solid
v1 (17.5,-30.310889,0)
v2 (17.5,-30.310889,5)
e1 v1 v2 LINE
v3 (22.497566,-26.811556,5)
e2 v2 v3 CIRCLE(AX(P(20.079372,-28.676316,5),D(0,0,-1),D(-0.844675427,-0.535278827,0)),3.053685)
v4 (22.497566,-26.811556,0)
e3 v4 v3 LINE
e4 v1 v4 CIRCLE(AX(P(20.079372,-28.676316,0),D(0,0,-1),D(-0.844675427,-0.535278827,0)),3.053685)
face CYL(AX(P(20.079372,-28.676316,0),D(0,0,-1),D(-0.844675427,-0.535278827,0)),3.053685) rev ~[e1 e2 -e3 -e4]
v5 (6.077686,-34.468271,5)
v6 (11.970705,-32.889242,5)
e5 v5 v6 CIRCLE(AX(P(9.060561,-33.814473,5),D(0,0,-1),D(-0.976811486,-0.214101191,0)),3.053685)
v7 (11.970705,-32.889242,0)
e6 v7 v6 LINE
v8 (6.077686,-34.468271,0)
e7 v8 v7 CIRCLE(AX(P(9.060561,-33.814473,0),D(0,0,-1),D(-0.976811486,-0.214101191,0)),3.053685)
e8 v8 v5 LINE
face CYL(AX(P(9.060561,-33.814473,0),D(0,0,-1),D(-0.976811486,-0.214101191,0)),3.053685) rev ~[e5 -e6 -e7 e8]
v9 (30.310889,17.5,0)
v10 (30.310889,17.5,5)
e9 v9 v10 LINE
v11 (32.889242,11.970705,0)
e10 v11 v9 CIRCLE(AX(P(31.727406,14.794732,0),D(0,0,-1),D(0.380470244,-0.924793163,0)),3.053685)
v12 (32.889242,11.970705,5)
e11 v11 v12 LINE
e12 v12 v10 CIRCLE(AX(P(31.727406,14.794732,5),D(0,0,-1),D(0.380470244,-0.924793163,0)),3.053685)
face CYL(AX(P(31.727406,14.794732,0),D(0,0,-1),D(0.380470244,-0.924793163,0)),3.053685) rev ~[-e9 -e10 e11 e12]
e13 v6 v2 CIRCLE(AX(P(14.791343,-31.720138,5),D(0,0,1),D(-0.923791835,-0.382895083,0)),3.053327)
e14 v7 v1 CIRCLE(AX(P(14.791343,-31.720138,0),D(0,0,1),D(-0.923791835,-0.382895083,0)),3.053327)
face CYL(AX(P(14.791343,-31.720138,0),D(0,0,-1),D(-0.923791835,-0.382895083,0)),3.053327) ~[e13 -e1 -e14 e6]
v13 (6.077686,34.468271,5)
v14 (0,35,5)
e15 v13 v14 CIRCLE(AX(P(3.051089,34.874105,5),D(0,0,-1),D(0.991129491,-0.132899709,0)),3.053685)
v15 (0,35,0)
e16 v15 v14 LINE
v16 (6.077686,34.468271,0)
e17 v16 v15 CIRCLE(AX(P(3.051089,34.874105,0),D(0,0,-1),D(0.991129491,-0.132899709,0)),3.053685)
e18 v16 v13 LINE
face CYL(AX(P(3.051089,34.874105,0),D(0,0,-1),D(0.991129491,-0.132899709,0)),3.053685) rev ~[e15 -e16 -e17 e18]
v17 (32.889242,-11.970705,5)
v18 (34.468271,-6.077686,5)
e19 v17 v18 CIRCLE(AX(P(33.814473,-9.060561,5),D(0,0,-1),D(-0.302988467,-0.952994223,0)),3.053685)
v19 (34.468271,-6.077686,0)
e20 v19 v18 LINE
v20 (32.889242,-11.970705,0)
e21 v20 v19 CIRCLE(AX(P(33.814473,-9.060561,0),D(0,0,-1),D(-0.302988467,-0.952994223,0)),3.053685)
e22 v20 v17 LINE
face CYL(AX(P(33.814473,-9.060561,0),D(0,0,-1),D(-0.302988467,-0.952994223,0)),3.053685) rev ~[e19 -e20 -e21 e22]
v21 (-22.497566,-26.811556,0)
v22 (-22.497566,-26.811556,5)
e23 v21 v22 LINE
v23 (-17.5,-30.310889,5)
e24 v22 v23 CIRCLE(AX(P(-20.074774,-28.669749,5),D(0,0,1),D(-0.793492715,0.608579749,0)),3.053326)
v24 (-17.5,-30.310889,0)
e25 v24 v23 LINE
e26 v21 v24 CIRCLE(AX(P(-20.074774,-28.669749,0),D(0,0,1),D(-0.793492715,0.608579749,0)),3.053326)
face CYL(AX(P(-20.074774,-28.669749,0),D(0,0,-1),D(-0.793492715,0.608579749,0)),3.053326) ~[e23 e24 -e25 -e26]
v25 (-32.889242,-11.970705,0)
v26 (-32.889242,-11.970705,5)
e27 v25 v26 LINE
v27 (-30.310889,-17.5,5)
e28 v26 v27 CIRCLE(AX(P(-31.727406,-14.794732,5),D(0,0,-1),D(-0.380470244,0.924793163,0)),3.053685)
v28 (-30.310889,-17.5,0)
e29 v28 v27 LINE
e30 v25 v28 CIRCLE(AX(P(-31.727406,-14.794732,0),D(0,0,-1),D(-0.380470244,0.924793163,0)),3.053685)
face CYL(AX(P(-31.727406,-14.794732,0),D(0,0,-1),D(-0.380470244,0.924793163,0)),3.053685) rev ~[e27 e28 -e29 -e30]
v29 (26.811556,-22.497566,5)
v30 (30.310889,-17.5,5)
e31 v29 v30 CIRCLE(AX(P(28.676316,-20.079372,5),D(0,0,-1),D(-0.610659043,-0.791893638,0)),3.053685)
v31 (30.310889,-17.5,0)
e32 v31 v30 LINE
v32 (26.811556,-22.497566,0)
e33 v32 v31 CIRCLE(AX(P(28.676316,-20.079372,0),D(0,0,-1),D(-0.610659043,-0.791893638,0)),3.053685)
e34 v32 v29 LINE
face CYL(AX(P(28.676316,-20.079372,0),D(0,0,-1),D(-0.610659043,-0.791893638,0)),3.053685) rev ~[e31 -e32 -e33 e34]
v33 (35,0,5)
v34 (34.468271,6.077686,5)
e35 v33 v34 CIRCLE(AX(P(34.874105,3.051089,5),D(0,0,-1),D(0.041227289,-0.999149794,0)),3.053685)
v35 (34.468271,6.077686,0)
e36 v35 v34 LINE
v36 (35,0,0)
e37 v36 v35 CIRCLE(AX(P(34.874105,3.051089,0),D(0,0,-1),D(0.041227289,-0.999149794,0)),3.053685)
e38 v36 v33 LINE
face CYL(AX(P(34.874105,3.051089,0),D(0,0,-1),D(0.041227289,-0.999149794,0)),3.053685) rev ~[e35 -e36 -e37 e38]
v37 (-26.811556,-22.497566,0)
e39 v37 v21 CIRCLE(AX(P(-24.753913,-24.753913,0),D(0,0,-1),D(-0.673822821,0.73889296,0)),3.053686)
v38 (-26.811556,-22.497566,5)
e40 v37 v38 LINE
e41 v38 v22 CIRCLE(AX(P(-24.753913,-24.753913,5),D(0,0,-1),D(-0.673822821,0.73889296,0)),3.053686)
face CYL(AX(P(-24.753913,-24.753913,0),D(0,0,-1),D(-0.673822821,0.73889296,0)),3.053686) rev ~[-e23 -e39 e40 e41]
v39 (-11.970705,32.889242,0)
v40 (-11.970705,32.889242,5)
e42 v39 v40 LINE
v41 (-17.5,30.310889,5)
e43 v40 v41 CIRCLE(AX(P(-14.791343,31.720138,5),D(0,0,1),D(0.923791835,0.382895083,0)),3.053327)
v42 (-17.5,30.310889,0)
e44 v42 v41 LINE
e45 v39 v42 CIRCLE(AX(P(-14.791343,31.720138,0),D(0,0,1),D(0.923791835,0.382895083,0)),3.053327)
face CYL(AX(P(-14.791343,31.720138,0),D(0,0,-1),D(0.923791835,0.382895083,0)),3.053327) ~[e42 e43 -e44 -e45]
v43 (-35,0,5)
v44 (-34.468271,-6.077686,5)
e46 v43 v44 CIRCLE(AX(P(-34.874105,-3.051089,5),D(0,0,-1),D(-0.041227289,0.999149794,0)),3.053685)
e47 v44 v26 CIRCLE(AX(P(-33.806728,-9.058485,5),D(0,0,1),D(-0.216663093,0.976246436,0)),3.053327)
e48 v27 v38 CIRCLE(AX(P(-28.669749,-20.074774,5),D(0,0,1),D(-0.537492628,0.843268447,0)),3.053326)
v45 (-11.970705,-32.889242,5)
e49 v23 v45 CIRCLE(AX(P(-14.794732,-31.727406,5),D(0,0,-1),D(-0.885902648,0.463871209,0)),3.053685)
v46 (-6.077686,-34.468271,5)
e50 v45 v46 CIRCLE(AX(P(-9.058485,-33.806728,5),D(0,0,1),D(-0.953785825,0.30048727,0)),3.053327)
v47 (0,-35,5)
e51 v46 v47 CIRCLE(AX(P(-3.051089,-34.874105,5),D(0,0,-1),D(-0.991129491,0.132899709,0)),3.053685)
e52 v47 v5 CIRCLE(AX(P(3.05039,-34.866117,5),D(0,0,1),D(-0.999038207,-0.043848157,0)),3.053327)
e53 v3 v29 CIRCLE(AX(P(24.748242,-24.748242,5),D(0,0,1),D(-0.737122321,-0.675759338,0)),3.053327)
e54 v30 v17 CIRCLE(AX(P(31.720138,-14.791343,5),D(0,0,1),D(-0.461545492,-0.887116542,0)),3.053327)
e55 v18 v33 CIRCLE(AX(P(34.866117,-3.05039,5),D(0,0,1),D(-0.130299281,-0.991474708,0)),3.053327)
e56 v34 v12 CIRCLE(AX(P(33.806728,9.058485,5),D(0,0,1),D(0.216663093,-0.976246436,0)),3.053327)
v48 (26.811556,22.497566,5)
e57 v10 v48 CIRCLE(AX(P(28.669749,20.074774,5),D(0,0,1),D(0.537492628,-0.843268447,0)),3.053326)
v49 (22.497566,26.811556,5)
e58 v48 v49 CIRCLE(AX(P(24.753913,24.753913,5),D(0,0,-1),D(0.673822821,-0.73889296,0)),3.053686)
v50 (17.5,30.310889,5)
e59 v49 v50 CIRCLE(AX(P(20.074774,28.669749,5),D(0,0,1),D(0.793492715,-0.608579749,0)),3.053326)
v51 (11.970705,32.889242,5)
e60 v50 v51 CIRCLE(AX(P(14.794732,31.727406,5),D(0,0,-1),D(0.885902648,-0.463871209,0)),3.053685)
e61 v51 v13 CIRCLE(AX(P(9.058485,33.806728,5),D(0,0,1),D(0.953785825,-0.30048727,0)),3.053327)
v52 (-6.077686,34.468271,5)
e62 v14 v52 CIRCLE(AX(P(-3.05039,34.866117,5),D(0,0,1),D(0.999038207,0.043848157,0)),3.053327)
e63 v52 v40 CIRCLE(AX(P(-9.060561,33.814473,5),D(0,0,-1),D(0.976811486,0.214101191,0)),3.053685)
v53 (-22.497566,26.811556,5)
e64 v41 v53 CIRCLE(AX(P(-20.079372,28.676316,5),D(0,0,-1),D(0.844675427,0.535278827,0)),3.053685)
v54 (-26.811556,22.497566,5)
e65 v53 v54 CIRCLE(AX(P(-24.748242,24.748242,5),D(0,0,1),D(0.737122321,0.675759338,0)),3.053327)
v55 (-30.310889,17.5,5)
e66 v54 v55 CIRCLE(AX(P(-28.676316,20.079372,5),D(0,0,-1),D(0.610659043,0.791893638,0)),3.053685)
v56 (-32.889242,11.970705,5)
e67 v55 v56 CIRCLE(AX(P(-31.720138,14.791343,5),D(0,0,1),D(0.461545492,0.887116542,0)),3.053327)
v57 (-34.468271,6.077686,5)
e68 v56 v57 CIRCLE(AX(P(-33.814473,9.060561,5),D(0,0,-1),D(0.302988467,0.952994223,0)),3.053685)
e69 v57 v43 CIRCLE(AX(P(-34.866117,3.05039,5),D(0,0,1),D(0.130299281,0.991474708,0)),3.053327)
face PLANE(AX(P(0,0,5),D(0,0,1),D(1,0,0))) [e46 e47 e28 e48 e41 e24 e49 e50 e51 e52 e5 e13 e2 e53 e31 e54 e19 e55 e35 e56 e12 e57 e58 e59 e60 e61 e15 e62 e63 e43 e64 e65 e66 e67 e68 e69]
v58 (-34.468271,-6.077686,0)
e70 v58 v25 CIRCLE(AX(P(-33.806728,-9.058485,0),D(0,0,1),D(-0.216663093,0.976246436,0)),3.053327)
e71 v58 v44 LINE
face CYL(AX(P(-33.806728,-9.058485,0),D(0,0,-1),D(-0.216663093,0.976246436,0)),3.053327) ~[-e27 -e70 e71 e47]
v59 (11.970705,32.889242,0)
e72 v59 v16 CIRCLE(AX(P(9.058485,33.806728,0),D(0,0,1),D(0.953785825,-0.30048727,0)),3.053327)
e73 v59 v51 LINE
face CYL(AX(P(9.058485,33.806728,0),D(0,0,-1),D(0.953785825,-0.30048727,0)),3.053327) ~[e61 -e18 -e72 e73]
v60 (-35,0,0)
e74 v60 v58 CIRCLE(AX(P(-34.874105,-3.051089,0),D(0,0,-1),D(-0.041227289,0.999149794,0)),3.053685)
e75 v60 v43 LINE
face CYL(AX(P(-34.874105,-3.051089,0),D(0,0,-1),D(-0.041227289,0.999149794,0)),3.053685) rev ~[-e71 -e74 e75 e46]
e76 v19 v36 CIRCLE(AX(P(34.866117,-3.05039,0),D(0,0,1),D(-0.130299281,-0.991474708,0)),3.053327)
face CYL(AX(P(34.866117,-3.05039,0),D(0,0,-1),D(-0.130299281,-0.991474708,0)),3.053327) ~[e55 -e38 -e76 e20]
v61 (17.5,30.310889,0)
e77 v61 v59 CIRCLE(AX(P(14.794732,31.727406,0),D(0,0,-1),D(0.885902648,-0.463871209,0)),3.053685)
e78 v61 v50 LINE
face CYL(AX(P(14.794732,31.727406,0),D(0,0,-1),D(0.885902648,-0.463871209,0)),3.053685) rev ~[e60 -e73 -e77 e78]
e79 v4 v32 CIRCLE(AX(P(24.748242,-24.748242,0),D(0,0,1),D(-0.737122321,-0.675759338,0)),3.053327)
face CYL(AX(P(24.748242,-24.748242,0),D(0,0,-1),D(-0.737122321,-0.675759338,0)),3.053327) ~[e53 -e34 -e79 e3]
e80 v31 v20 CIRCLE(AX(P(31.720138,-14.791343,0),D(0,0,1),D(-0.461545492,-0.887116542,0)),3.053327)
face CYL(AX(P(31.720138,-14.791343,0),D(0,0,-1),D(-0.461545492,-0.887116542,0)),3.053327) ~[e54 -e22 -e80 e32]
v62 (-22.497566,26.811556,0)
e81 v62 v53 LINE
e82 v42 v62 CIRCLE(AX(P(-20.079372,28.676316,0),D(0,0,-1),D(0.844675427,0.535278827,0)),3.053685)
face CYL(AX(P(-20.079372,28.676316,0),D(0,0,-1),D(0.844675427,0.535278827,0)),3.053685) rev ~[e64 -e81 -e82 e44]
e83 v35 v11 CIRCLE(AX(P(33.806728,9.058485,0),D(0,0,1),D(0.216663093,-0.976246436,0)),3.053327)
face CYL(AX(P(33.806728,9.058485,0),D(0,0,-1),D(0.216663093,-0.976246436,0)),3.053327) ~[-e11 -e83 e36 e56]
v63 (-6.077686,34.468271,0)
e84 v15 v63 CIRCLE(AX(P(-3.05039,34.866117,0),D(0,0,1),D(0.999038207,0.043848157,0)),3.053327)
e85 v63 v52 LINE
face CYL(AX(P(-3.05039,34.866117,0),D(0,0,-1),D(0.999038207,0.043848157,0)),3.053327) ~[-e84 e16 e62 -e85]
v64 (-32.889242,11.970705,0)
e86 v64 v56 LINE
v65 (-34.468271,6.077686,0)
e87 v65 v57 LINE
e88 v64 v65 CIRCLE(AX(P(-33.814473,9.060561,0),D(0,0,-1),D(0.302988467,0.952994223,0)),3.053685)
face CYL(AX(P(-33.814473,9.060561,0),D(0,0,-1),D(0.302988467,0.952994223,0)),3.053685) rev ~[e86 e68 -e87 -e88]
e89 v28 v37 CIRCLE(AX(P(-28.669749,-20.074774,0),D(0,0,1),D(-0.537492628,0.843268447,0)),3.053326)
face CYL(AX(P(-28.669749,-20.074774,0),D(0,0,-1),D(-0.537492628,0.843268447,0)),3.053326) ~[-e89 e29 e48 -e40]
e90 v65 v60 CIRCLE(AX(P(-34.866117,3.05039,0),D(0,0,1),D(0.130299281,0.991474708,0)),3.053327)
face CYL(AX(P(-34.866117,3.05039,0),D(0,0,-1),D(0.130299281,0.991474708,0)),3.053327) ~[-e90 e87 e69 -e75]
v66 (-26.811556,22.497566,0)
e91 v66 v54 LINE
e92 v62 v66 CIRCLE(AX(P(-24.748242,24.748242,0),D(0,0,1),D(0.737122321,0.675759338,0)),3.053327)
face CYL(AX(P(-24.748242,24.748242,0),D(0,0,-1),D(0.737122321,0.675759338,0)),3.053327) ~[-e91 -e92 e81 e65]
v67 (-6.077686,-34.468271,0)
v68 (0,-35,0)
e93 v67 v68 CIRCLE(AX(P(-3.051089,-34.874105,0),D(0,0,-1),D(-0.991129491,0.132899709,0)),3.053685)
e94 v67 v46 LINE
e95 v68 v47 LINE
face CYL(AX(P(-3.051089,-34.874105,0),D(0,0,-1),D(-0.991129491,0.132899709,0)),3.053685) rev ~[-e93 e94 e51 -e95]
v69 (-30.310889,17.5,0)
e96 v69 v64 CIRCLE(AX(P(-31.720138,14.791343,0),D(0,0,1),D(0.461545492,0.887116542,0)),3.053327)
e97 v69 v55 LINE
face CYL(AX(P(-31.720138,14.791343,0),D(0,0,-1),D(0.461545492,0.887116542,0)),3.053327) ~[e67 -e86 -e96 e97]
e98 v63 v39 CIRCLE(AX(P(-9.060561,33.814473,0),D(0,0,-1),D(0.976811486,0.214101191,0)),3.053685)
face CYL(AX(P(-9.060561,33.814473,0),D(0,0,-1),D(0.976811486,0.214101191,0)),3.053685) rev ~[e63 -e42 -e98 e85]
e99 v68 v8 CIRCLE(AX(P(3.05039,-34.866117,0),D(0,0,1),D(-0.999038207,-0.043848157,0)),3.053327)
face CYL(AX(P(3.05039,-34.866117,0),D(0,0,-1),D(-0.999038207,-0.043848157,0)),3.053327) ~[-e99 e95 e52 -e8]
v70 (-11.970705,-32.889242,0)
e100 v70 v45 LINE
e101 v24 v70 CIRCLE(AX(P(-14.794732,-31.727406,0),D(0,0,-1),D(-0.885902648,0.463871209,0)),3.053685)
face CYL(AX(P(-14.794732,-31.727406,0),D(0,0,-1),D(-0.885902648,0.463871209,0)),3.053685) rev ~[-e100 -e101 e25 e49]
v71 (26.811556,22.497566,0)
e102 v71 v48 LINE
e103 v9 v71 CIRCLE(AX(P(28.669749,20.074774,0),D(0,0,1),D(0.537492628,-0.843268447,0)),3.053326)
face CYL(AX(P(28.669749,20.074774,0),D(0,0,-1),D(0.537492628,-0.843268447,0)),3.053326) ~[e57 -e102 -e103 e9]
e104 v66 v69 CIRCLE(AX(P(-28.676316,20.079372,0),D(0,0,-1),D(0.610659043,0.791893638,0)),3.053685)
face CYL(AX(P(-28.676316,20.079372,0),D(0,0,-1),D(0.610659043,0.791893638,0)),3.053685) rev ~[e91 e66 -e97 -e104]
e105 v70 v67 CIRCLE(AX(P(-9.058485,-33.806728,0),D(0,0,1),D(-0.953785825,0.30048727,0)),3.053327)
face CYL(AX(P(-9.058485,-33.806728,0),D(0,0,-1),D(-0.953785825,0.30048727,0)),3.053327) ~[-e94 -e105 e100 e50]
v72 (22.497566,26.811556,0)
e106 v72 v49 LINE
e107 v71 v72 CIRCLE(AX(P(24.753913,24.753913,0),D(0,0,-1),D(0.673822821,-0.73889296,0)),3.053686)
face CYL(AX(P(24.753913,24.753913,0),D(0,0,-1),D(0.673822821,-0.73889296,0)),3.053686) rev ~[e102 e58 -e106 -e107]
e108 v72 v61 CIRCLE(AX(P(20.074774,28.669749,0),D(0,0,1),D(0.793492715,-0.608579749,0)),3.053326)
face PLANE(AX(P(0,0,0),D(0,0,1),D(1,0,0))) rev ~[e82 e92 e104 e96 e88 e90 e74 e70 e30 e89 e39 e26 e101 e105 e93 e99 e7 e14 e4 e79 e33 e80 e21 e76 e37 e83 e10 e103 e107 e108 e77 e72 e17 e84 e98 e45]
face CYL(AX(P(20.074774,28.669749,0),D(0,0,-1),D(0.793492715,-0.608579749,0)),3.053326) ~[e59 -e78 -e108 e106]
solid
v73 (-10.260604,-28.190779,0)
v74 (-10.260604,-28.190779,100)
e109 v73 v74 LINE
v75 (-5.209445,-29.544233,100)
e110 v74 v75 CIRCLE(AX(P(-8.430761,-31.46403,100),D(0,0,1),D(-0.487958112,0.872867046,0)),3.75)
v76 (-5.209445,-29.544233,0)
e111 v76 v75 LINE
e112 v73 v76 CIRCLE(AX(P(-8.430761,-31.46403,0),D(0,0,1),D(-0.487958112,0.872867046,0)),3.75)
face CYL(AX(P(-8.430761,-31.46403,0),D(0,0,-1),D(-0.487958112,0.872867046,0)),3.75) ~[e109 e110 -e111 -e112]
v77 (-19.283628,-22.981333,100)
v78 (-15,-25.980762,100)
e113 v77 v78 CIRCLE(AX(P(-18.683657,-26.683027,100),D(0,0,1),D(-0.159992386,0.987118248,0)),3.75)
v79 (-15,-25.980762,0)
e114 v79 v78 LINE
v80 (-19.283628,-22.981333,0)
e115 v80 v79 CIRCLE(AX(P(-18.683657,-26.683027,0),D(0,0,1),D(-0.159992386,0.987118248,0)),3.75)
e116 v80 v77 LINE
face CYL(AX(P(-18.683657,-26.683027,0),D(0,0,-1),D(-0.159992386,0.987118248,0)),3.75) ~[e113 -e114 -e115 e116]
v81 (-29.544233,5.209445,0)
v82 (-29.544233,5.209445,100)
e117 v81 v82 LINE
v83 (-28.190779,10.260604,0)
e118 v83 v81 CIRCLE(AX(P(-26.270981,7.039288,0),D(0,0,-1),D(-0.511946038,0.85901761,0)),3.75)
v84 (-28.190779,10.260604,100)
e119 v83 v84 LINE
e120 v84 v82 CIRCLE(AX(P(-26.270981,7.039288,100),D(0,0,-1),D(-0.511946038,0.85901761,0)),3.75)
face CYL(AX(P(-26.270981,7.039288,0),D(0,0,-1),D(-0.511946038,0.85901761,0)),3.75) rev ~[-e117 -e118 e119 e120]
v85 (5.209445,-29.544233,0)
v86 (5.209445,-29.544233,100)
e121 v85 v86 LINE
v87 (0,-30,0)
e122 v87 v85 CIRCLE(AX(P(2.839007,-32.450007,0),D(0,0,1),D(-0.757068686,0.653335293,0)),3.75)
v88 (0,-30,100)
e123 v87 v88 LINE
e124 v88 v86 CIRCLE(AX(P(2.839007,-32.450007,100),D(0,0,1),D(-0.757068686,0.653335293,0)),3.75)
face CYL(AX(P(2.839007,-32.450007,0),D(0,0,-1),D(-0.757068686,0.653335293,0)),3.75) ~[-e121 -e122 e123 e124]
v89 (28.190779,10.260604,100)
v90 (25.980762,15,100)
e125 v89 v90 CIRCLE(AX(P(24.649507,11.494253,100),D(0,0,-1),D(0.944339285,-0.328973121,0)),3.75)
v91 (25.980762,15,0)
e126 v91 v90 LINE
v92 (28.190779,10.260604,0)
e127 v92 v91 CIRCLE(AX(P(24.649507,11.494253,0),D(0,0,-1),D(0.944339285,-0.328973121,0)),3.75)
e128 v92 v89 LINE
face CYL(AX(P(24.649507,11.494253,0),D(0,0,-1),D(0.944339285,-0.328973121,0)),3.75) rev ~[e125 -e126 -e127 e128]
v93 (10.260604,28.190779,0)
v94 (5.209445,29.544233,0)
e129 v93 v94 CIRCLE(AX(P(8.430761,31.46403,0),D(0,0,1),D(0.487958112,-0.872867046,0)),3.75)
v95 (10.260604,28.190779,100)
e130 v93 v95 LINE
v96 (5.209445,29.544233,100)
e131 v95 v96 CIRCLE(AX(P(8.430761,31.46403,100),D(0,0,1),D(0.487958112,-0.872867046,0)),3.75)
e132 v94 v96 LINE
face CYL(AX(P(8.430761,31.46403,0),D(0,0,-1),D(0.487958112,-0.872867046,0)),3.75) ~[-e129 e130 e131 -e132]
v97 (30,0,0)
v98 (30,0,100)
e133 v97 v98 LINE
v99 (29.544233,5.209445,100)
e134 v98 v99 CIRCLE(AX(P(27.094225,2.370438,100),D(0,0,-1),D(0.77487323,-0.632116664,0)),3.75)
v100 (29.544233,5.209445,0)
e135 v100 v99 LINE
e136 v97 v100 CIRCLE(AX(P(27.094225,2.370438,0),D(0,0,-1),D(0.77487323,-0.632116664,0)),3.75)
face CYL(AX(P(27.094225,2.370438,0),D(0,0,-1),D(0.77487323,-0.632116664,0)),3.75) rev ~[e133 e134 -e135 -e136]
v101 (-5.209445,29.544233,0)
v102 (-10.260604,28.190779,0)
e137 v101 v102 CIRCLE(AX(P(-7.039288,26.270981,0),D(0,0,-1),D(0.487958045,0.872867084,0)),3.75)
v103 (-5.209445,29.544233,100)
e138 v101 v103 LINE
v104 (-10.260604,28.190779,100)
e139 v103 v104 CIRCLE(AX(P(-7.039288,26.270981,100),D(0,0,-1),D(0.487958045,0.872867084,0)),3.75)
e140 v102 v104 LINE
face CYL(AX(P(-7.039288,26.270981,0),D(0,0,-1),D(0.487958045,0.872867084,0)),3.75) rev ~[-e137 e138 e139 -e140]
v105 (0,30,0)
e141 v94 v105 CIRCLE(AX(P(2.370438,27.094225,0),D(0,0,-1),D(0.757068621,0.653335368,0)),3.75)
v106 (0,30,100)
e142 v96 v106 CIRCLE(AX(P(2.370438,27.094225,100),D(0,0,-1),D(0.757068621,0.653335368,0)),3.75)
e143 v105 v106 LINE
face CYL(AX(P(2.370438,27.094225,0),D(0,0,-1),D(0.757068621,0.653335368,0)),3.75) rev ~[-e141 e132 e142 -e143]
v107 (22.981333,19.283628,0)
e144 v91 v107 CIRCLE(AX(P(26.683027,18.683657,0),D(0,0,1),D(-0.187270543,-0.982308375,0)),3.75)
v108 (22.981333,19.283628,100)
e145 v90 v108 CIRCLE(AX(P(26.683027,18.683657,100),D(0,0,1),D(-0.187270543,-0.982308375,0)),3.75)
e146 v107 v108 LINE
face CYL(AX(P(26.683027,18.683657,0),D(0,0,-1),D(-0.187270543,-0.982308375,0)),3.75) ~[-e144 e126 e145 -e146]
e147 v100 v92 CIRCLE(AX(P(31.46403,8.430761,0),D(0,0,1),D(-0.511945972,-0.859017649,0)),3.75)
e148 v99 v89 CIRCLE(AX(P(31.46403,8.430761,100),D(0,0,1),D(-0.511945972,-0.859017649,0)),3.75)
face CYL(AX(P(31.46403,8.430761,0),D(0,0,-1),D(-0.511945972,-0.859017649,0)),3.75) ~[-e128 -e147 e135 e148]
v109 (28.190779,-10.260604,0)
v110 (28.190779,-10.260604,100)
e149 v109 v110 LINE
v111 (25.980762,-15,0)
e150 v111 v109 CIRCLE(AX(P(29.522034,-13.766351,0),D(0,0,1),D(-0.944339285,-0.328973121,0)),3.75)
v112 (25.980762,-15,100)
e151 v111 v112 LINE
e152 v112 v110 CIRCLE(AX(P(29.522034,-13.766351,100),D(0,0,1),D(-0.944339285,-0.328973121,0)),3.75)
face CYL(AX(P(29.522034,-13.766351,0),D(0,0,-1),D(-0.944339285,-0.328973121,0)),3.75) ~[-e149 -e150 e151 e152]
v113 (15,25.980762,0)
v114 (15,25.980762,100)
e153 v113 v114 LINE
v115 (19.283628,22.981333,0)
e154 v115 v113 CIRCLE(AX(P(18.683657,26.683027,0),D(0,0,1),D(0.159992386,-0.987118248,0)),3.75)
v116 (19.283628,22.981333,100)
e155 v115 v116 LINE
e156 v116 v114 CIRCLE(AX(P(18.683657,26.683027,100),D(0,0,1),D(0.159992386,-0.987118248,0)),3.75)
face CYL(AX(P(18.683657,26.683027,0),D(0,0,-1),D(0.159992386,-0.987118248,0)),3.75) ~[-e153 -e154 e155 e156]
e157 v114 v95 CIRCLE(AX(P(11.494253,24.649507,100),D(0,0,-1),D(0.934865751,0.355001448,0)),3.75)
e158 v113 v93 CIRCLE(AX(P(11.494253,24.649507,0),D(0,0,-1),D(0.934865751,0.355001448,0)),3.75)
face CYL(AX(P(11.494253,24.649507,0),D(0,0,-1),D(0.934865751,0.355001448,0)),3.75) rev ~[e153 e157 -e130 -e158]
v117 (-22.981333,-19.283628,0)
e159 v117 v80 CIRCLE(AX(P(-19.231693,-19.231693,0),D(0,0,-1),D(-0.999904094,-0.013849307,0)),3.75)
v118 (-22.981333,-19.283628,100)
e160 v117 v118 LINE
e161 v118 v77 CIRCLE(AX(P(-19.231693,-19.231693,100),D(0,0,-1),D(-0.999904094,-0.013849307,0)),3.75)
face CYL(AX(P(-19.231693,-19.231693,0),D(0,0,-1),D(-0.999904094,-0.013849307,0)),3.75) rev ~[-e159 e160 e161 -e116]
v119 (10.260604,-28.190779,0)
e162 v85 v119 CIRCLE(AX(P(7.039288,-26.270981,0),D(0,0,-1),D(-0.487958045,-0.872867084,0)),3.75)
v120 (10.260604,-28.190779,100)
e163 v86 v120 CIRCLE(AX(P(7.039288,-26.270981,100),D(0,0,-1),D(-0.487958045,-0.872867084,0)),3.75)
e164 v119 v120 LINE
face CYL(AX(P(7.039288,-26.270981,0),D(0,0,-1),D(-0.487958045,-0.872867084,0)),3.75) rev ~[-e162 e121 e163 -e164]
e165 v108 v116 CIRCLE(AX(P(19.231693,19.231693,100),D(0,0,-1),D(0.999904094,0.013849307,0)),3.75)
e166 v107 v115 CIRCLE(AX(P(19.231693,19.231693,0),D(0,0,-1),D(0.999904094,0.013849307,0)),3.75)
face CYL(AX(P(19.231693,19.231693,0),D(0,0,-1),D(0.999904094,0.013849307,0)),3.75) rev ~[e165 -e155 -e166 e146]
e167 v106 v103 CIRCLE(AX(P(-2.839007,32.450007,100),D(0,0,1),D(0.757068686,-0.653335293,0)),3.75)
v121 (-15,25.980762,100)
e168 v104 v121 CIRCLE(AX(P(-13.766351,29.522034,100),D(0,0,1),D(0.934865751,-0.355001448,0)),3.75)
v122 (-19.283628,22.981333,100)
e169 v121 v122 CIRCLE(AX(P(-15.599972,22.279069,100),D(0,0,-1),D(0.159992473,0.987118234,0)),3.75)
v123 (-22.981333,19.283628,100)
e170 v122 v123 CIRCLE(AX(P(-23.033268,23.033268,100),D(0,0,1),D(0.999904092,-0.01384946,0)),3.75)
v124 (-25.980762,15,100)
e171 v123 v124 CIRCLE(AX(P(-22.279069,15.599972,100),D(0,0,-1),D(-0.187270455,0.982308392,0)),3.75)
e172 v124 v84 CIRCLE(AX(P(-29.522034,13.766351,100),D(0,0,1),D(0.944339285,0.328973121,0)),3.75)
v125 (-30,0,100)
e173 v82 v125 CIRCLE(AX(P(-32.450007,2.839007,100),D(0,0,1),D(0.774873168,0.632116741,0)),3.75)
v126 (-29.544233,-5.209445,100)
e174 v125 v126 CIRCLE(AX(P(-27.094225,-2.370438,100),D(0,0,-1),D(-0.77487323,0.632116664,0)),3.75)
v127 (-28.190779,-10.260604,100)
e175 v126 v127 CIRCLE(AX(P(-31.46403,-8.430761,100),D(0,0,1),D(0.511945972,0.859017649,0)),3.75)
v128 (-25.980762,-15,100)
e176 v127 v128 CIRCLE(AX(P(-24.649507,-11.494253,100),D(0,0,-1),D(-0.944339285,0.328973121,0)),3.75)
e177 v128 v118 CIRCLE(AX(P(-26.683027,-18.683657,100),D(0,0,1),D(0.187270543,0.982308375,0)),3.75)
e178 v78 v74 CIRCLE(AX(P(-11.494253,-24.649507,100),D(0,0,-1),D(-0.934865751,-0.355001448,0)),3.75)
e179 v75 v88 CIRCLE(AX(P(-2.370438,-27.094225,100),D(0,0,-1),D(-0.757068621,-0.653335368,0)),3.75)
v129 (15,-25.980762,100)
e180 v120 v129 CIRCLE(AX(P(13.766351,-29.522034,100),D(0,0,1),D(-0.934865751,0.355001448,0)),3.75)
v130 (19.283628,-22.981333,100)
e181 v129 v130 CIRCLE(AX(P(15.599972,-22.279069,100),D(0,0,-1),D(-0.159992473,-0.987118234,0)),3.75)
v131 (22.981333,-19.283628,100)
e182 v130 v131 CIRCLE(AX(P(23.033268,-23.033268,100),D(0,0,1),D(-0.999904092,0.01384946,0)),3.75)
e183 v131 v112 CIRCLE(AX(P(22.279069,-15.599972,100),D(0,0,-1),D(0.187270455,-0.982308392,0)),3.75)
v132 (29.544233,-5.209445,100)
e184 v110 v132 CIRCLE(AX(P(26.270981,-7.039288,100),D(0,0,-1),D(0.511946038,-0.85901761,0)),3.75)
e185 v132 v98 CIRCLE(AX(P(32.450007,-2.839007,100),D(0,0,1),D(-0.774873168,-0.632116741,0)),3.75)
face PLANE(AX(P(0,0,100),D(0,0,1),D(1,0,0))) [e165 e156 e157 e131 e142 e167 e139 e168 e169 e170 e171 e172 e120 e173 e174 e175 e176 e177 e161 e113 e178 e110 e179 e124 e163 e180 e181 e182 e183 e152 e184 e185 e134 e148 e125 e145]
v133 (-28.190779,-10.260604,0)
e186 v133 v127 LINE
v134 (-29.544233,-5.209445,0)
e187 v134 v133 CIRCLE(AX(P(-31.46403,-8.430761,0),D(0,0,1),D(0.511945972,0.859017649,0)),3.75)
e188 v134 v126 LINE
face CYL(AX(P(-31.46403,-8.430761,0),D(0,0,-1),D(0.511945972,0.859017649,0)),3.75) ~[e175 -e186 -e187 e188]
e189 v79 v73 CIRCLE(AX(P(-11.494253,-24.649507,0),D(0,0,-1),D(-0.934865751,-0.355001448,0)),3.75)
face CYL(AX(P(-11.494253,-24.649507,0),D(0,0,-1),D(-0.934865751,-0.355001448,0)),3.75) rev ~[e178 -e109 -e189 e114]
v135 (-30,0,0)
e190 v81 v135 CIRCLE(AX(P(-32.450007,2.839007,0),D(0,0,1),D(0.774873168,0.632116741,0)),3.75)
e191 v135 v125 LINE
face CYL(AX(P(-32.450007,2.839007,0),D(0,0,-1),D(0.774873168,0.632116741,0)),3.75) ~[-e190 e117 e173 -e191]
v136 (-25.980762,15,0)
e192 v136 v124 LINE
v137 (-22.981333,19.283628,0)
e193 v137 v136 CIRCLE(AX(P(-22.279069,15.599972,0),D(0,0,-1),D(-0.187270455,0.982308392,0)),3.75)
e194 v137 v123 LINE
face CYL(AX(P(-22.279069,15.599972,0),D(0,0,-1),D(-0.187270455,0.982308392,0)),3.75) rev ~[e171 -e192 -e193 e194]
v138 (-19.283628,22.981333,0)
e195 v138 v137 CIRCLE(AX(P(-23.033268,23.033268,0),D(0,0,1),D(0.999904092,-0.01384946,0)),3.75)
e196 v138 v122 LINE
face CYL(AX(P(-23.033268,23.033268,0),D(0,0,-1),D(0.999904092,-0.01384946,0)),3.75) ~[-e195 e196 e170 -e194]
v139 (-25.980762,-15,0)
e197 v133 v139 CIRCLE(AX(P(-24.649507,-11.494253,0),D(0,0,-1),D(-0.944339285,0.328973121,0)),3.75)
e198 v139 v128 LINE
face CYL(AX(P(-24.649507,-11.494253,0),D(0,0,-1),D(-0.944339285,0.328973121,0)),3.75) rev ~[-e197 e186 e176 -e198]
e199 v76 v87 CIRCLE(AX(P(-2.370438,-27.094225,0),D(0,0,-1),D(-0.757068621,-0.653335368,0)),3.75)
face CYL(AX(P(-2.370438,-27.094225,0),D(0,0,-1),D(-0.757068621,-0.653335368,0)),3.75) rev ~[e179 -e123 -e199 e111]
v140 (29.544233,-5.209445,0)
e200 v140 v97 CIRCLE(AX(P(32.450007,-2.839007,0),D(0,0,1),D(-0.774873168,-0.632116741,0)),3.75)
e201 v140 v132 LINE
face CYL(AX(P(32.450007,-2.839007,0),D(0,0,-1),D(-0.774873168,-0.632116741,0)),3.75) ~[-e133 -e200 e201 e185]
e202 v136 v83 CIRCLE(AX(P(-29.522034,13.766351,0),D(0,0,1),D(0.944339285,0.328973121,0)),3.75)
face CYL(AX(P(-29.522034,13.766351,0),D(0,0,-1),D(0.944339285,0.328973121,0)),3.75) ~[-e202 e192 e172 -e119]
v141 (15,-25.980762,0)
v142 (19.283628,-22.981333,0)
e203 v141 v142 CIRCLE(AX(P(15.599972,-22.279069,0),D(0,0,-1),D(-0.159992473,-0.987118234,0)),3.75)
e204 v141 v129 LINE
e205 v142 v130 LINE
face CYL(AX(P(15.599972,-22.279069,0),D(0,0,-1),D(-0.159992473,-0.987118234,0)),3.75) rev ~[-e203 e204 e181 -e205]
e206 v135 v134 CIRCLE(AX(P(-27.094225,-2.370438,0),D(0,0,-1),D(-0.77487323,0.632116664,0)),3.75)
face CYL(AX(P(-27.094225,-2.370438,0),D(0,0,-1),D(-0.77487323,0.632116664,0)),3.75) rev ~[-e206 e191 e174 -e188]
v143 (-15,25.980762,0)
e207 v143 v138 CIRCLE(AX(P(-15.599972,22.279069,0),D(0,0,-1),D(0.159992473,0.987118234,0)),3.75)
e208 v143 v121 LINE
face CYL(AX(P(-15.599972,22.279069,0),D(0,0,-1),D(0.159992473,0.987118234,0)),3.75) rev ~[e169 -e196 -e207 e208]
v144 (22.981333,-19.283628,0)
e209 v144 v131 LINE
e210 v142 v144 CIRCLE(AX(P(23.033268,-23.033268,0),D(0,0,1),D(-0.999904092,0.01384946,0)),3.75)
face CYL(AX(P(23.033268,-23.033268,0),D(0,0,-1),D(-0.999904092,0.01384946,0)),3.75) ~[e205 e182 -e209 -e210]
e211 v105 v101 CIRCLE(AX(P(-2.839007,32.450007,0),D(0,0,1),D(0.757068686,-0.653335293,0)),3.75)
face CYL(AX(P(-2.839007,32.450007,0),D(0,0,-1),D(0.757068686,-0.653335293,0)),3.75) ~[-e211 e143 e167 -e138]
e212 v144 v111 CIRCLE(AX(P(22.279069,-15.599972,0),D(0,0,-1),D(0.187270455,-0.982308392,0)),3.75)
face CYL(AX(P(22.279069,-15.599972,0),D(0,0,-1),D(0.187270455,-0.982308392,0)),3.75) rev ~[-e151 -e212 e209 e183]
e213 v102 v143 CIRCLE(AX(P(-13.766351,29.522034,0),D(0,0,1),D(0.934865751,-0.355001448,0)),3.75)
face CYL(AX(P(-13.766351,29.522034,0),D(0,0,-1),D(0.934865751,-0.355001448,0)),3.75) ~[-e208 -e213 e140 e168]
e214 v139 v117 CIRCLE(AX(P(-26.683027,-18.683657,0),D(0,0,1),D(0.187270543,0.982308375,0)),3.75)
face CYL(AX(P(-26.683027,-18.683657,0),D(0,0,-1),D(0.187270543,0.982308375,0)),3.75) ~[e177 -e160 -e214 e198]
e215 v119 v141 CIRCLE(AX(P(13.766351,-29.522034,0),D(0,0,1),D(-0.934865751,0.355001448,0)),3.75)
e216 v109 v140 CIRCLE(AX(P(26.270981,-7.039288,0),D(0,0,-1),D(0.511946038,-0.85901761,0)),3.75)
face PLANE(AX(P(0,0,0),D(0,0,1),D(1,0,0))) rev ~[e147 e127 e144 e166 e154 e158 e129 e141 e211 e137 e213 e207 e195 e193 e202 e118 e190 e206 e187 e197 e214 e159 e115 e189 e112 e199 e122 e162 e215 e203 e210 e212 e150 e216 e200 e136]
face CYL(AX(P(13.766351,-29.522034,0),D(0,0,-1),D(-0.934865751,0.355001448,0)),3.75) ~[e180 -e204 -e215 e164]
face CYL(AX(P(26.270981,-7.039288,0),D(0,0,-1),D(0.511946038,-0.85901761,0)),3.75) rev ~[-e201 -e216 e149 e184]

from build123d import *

# Parameters (mm, degrees)
F1_DEPTH = 5
F3_DEPTH = 100


with BuildPart() as f1:
    # F0 (on Top) → F1 (new body)
    with BuildSketch(Plane.XY):
        with BuildLine():
            ThreePointArc((6.077686, 34.468271), (2.784943, 31.83204), (0, 35))
            ThreePointArc((0, 35), (-3.316505, 37.907825), (-6.077686, 34.468271))
            ThreePointArc((-6.077686, 34.468271), (-8.270209, 30.86484), (-11.970705, 32.889242))
            ThreePointArc((-11.970705, 32.889242), (-16.081735, 34.487392), (-17.5, 30.310889))
            ThreePointArc((-17.5, 30.310889), (-18.327851, 26.174884), (-22.497566, 26.811556))
            ThreePointArc((-22.497566, 26.811556), (-26.90727, 26.90727), (-26.811556, 22.497566))
            ThreePointArc((-26.811556, 22.497566), (-26.174884, 18.327851), (-30.310889, 17.5))
            ThreePointArc((-30.310889, 17.5), (-34.487392, 16.081735), (-32.889242, 11.970705))
            ThreePointArc((-32.889242, 11.970705), (-30.86484, 8.270209), (-34.468271, 6.077686))
            ThreePointArc((-34.468271, 6.077686), (-37.907825, 3.316505), (-35, 0))
            ThreePointArc((-35, 0), (-31.83204, -2.784943), (-34.468271, -6.077686))
            ThreePointArc((-34.468271, -6.077686), (-36.756015, -9.848744), (-32.889242, -11.970705))
            ThreePointArc((-32.889242, -11.970705), (-28.959827, -13.504189), (-30.310889, -17.5))
            ThreePointArc((-30.310889, -17.5), (-31.170887, -21.82609), (-26.811556, -22.497566))
            ThreePointArc((-26.811556, -22.497566), (-22.594631, -22.594631), (-22.497566, -26.811556))
            ThreePointArc((-22.497566, -26.811556), (-21.82609, -31.170887), (-17.5, -30.310889))
            ThreePointArc((-17.5, -30.310889), (-13.504189, -28.959827), (-11.970705, -32.889242))
            ThreePointArc((-11.970705, -32.889242), (-9.848744, -36.756015), (-6.077686, -34.468271))
            ThreePointArc((-6.077686, -34.468271), (-2.784943, -31.83204), (0, -35))
            ThreePointArc((0, -35), (3.316505, -37.907825), (6.077686, -34.468271))
            ThreePointArc((6.077686, -34.468271), (8.270209, -30.86484), (11.970705, -32.889242))
            ThreePointArc((11.970705, -32.889242), (16.081735, -34.487392), (17.5, -30.310889))
            ThreePointArc((17.5, -30.310889), (18.327851, -26.174884), (22.497566, -26.811556))
            ThreePointArc((22.497566, -26.811556), (26.90727, -26.90727), (26.811556, -22.497566))
            ThreePointArc((26.811556, -22.497566), (26.174884, -18.327851), (30.310889, -17.5))
            ThreePointArc((30.310889, -17.5), (34.487392, -16.081735), (32.889242, -11.970705))
            ThreePointArc((32.889242, -11.970705), (30.86484, -8.270209), (34.468271, -6.077686))
            ThreePointArc((34.468271, -6.077686), (37.907825, -3.316505), (35, 0))
            ThreePointArc((35, 0), (31.83204, 2.784943), (34.468271, 6.077686))
            ThreePointArc((34.468271, 6.077686), (36.756015, 9.848744), (32.889242, 11.970705))
            ThreePointArc((32.889242, 11.970705), (28.959827, 13.504189), (30.310889, 17.5))
            ThreePointArc((30.310889, 17.5), (31.170887, 21.82609), (26.811556, 22.497566))
            ThreePointArc((26.811556, 22.497566), (22.594631, 22.594631), (22.497566, 26.811556))
            ThreePointArc((22.497566, 26.811556), (21.82609, 31.170887), (17.5, 30.310889))
            ThreePointArc((17.5, 30.310889), (13.504189, 28.959827), (11.970705, 32.889242))
            ThreePointArc((11.970705, 32.889242), (9.848744, 36.756015), (6.077686, 34.468271))
        make_face()
    extrude(amount=F1_DEPTH)


with BuildPart() as f3:
    # F2 (on Top) → F3 (new body)
    with BuildSketch(Plane.XY):
        with BuildLine():
            ThreePointArc((5.209445, 29.544233), (2.043604, 23.358495), (0, 30))
            ThreePointArc((0, 30), (-3.165842, 36.185737), (-5.209445, 29.544233))
            ThreePointArc((-5.209445, 29.544233), (-6.068717, 22.648759), (-10.260604, 28.190779))
            ThreePointArc((-10.260604, 28.190779), (-15.351169, 32.920689), (-15, 25.980762))
            ThreePointArc((-15, 25.980762), (-13.44906, 19.207249), (-19.283628, 22.981333))
            ThreePointArc((-19.283628, 22.981333), (-25.684919, 25.684919), (-22.981333, 19.283628))
            ThreePointArc((-22.981333, 19.283628), (-19.207249, 13.44906), (-25.980762, 15))
            ThreePointArc((-25.980762, 15), (-32.920689, 15.351169), (-28.190779, 10.260604))
            ThreePointArc((-28.190779, 10.260604), (-22.648759, 6.068717), (-29.544233, 5.209445))
            ThreePointArc((-29.544233, 5.209445), (-36.185737, 3.165842), (-30, 0))
            ThreePointArc((-30, 0), (-23.358495, -2.043604), (-29.544233, -5.209445))
            ThreePointArc((-29.544233, -5.209445), (-35.086252, -9.401333), (-28.190779, -10.260604))
            ThreePointArc((-28.190779, -10.260604), (-21.250852, -9.909435), (-25.980762, -15))
            ThreePointArc((-25.980762, -15), (-29.754847, -20.834568), (-22.981333, -19.283628))
            ThreePointArc((-22.981333, -19.283628), (-16.580043, -16.580043), (-19.283628, -22.981333))
            ThreePointArc((-19.283628, -22.981333), (-20.834568, -29.754847), (-15, -25.980762))
            ThreePointArc((-15, -25.980762), (-9.909435, -21.250852), (-10.260604, -28.190779))
            ThreePointArc((-10.260604, -28.190779), (-9.401333, -35.086252), (-5.209445, -29.544233))
            ThreePointArc((-5.209445, -29.544233), (-2.043604, -23.358495), (0, -30))
            ThreePointArc((0, -30), (3.165842, -36.185737), (5.209445, -29.544233))
            ThreePointArc((5.209445, -29.544233), (6.068717, -22.648759), (10.260604, -28.190779))
            ThreePointArc((10.260604, -28.190779), (15.351169, -32.920689), (15, -25.980762))
            ThreePointArc((15, -25.980762), (13.44906, -19.207249), (19.283628, -22.981333))
            ThreePointArc((19.283628, -22.981333), (25.684919, -25.684919), (22.981333, -19.283628))
            ThreePointArc((22.981333, -19.283628), (19.207249, -13.44906), (25.980762, -15))
            ThreePointArc((25.980762, -15), (32.920689, -15.351169), (28.190779, -10.260604))
            ThreePointArc((28.190779, -10.260604), (22.648759, -6.068717), (29.544233, -5.209445))
            ThreePointArc((29.544233, -5.209445), (36.185737, -3.165842), (30, 0))
            ThreePointArc((30, 0), (23.358495, 2.043604), (29.544233, 5.209445))
            ThreePointArc((29.544233, 5.209445), (35.086252, 9.401333), (28.190779, 10.260604))
            ThreePointArc((28.190779, 10.260604), (21.250852, 9.909435), (25.980762, 15))
            ThreePointArc((25.980762, 15), (29.754847, 20.834568), (22.981333, 19.283628))
            ThreePointArc((22.981333, 19.283628), (16.580043, 16.580043), (19.283628, 22.981333))
            ThreePointArc((19.283628, 22.981333), (20.834568, 29.754847), (15, 25.980762))
            ThreePointArc((15, 25.980762), (9.909435, 21.250852), (10.260604, 28.190779))
            ThreePointArc((10.260604, 28.190779), (9.401333, 35.086252), (5.209445, 29.544233))
        make_face()
    extrude(amount=F3_DEPTH)


solid = Compound([f1.part, f3.part])
